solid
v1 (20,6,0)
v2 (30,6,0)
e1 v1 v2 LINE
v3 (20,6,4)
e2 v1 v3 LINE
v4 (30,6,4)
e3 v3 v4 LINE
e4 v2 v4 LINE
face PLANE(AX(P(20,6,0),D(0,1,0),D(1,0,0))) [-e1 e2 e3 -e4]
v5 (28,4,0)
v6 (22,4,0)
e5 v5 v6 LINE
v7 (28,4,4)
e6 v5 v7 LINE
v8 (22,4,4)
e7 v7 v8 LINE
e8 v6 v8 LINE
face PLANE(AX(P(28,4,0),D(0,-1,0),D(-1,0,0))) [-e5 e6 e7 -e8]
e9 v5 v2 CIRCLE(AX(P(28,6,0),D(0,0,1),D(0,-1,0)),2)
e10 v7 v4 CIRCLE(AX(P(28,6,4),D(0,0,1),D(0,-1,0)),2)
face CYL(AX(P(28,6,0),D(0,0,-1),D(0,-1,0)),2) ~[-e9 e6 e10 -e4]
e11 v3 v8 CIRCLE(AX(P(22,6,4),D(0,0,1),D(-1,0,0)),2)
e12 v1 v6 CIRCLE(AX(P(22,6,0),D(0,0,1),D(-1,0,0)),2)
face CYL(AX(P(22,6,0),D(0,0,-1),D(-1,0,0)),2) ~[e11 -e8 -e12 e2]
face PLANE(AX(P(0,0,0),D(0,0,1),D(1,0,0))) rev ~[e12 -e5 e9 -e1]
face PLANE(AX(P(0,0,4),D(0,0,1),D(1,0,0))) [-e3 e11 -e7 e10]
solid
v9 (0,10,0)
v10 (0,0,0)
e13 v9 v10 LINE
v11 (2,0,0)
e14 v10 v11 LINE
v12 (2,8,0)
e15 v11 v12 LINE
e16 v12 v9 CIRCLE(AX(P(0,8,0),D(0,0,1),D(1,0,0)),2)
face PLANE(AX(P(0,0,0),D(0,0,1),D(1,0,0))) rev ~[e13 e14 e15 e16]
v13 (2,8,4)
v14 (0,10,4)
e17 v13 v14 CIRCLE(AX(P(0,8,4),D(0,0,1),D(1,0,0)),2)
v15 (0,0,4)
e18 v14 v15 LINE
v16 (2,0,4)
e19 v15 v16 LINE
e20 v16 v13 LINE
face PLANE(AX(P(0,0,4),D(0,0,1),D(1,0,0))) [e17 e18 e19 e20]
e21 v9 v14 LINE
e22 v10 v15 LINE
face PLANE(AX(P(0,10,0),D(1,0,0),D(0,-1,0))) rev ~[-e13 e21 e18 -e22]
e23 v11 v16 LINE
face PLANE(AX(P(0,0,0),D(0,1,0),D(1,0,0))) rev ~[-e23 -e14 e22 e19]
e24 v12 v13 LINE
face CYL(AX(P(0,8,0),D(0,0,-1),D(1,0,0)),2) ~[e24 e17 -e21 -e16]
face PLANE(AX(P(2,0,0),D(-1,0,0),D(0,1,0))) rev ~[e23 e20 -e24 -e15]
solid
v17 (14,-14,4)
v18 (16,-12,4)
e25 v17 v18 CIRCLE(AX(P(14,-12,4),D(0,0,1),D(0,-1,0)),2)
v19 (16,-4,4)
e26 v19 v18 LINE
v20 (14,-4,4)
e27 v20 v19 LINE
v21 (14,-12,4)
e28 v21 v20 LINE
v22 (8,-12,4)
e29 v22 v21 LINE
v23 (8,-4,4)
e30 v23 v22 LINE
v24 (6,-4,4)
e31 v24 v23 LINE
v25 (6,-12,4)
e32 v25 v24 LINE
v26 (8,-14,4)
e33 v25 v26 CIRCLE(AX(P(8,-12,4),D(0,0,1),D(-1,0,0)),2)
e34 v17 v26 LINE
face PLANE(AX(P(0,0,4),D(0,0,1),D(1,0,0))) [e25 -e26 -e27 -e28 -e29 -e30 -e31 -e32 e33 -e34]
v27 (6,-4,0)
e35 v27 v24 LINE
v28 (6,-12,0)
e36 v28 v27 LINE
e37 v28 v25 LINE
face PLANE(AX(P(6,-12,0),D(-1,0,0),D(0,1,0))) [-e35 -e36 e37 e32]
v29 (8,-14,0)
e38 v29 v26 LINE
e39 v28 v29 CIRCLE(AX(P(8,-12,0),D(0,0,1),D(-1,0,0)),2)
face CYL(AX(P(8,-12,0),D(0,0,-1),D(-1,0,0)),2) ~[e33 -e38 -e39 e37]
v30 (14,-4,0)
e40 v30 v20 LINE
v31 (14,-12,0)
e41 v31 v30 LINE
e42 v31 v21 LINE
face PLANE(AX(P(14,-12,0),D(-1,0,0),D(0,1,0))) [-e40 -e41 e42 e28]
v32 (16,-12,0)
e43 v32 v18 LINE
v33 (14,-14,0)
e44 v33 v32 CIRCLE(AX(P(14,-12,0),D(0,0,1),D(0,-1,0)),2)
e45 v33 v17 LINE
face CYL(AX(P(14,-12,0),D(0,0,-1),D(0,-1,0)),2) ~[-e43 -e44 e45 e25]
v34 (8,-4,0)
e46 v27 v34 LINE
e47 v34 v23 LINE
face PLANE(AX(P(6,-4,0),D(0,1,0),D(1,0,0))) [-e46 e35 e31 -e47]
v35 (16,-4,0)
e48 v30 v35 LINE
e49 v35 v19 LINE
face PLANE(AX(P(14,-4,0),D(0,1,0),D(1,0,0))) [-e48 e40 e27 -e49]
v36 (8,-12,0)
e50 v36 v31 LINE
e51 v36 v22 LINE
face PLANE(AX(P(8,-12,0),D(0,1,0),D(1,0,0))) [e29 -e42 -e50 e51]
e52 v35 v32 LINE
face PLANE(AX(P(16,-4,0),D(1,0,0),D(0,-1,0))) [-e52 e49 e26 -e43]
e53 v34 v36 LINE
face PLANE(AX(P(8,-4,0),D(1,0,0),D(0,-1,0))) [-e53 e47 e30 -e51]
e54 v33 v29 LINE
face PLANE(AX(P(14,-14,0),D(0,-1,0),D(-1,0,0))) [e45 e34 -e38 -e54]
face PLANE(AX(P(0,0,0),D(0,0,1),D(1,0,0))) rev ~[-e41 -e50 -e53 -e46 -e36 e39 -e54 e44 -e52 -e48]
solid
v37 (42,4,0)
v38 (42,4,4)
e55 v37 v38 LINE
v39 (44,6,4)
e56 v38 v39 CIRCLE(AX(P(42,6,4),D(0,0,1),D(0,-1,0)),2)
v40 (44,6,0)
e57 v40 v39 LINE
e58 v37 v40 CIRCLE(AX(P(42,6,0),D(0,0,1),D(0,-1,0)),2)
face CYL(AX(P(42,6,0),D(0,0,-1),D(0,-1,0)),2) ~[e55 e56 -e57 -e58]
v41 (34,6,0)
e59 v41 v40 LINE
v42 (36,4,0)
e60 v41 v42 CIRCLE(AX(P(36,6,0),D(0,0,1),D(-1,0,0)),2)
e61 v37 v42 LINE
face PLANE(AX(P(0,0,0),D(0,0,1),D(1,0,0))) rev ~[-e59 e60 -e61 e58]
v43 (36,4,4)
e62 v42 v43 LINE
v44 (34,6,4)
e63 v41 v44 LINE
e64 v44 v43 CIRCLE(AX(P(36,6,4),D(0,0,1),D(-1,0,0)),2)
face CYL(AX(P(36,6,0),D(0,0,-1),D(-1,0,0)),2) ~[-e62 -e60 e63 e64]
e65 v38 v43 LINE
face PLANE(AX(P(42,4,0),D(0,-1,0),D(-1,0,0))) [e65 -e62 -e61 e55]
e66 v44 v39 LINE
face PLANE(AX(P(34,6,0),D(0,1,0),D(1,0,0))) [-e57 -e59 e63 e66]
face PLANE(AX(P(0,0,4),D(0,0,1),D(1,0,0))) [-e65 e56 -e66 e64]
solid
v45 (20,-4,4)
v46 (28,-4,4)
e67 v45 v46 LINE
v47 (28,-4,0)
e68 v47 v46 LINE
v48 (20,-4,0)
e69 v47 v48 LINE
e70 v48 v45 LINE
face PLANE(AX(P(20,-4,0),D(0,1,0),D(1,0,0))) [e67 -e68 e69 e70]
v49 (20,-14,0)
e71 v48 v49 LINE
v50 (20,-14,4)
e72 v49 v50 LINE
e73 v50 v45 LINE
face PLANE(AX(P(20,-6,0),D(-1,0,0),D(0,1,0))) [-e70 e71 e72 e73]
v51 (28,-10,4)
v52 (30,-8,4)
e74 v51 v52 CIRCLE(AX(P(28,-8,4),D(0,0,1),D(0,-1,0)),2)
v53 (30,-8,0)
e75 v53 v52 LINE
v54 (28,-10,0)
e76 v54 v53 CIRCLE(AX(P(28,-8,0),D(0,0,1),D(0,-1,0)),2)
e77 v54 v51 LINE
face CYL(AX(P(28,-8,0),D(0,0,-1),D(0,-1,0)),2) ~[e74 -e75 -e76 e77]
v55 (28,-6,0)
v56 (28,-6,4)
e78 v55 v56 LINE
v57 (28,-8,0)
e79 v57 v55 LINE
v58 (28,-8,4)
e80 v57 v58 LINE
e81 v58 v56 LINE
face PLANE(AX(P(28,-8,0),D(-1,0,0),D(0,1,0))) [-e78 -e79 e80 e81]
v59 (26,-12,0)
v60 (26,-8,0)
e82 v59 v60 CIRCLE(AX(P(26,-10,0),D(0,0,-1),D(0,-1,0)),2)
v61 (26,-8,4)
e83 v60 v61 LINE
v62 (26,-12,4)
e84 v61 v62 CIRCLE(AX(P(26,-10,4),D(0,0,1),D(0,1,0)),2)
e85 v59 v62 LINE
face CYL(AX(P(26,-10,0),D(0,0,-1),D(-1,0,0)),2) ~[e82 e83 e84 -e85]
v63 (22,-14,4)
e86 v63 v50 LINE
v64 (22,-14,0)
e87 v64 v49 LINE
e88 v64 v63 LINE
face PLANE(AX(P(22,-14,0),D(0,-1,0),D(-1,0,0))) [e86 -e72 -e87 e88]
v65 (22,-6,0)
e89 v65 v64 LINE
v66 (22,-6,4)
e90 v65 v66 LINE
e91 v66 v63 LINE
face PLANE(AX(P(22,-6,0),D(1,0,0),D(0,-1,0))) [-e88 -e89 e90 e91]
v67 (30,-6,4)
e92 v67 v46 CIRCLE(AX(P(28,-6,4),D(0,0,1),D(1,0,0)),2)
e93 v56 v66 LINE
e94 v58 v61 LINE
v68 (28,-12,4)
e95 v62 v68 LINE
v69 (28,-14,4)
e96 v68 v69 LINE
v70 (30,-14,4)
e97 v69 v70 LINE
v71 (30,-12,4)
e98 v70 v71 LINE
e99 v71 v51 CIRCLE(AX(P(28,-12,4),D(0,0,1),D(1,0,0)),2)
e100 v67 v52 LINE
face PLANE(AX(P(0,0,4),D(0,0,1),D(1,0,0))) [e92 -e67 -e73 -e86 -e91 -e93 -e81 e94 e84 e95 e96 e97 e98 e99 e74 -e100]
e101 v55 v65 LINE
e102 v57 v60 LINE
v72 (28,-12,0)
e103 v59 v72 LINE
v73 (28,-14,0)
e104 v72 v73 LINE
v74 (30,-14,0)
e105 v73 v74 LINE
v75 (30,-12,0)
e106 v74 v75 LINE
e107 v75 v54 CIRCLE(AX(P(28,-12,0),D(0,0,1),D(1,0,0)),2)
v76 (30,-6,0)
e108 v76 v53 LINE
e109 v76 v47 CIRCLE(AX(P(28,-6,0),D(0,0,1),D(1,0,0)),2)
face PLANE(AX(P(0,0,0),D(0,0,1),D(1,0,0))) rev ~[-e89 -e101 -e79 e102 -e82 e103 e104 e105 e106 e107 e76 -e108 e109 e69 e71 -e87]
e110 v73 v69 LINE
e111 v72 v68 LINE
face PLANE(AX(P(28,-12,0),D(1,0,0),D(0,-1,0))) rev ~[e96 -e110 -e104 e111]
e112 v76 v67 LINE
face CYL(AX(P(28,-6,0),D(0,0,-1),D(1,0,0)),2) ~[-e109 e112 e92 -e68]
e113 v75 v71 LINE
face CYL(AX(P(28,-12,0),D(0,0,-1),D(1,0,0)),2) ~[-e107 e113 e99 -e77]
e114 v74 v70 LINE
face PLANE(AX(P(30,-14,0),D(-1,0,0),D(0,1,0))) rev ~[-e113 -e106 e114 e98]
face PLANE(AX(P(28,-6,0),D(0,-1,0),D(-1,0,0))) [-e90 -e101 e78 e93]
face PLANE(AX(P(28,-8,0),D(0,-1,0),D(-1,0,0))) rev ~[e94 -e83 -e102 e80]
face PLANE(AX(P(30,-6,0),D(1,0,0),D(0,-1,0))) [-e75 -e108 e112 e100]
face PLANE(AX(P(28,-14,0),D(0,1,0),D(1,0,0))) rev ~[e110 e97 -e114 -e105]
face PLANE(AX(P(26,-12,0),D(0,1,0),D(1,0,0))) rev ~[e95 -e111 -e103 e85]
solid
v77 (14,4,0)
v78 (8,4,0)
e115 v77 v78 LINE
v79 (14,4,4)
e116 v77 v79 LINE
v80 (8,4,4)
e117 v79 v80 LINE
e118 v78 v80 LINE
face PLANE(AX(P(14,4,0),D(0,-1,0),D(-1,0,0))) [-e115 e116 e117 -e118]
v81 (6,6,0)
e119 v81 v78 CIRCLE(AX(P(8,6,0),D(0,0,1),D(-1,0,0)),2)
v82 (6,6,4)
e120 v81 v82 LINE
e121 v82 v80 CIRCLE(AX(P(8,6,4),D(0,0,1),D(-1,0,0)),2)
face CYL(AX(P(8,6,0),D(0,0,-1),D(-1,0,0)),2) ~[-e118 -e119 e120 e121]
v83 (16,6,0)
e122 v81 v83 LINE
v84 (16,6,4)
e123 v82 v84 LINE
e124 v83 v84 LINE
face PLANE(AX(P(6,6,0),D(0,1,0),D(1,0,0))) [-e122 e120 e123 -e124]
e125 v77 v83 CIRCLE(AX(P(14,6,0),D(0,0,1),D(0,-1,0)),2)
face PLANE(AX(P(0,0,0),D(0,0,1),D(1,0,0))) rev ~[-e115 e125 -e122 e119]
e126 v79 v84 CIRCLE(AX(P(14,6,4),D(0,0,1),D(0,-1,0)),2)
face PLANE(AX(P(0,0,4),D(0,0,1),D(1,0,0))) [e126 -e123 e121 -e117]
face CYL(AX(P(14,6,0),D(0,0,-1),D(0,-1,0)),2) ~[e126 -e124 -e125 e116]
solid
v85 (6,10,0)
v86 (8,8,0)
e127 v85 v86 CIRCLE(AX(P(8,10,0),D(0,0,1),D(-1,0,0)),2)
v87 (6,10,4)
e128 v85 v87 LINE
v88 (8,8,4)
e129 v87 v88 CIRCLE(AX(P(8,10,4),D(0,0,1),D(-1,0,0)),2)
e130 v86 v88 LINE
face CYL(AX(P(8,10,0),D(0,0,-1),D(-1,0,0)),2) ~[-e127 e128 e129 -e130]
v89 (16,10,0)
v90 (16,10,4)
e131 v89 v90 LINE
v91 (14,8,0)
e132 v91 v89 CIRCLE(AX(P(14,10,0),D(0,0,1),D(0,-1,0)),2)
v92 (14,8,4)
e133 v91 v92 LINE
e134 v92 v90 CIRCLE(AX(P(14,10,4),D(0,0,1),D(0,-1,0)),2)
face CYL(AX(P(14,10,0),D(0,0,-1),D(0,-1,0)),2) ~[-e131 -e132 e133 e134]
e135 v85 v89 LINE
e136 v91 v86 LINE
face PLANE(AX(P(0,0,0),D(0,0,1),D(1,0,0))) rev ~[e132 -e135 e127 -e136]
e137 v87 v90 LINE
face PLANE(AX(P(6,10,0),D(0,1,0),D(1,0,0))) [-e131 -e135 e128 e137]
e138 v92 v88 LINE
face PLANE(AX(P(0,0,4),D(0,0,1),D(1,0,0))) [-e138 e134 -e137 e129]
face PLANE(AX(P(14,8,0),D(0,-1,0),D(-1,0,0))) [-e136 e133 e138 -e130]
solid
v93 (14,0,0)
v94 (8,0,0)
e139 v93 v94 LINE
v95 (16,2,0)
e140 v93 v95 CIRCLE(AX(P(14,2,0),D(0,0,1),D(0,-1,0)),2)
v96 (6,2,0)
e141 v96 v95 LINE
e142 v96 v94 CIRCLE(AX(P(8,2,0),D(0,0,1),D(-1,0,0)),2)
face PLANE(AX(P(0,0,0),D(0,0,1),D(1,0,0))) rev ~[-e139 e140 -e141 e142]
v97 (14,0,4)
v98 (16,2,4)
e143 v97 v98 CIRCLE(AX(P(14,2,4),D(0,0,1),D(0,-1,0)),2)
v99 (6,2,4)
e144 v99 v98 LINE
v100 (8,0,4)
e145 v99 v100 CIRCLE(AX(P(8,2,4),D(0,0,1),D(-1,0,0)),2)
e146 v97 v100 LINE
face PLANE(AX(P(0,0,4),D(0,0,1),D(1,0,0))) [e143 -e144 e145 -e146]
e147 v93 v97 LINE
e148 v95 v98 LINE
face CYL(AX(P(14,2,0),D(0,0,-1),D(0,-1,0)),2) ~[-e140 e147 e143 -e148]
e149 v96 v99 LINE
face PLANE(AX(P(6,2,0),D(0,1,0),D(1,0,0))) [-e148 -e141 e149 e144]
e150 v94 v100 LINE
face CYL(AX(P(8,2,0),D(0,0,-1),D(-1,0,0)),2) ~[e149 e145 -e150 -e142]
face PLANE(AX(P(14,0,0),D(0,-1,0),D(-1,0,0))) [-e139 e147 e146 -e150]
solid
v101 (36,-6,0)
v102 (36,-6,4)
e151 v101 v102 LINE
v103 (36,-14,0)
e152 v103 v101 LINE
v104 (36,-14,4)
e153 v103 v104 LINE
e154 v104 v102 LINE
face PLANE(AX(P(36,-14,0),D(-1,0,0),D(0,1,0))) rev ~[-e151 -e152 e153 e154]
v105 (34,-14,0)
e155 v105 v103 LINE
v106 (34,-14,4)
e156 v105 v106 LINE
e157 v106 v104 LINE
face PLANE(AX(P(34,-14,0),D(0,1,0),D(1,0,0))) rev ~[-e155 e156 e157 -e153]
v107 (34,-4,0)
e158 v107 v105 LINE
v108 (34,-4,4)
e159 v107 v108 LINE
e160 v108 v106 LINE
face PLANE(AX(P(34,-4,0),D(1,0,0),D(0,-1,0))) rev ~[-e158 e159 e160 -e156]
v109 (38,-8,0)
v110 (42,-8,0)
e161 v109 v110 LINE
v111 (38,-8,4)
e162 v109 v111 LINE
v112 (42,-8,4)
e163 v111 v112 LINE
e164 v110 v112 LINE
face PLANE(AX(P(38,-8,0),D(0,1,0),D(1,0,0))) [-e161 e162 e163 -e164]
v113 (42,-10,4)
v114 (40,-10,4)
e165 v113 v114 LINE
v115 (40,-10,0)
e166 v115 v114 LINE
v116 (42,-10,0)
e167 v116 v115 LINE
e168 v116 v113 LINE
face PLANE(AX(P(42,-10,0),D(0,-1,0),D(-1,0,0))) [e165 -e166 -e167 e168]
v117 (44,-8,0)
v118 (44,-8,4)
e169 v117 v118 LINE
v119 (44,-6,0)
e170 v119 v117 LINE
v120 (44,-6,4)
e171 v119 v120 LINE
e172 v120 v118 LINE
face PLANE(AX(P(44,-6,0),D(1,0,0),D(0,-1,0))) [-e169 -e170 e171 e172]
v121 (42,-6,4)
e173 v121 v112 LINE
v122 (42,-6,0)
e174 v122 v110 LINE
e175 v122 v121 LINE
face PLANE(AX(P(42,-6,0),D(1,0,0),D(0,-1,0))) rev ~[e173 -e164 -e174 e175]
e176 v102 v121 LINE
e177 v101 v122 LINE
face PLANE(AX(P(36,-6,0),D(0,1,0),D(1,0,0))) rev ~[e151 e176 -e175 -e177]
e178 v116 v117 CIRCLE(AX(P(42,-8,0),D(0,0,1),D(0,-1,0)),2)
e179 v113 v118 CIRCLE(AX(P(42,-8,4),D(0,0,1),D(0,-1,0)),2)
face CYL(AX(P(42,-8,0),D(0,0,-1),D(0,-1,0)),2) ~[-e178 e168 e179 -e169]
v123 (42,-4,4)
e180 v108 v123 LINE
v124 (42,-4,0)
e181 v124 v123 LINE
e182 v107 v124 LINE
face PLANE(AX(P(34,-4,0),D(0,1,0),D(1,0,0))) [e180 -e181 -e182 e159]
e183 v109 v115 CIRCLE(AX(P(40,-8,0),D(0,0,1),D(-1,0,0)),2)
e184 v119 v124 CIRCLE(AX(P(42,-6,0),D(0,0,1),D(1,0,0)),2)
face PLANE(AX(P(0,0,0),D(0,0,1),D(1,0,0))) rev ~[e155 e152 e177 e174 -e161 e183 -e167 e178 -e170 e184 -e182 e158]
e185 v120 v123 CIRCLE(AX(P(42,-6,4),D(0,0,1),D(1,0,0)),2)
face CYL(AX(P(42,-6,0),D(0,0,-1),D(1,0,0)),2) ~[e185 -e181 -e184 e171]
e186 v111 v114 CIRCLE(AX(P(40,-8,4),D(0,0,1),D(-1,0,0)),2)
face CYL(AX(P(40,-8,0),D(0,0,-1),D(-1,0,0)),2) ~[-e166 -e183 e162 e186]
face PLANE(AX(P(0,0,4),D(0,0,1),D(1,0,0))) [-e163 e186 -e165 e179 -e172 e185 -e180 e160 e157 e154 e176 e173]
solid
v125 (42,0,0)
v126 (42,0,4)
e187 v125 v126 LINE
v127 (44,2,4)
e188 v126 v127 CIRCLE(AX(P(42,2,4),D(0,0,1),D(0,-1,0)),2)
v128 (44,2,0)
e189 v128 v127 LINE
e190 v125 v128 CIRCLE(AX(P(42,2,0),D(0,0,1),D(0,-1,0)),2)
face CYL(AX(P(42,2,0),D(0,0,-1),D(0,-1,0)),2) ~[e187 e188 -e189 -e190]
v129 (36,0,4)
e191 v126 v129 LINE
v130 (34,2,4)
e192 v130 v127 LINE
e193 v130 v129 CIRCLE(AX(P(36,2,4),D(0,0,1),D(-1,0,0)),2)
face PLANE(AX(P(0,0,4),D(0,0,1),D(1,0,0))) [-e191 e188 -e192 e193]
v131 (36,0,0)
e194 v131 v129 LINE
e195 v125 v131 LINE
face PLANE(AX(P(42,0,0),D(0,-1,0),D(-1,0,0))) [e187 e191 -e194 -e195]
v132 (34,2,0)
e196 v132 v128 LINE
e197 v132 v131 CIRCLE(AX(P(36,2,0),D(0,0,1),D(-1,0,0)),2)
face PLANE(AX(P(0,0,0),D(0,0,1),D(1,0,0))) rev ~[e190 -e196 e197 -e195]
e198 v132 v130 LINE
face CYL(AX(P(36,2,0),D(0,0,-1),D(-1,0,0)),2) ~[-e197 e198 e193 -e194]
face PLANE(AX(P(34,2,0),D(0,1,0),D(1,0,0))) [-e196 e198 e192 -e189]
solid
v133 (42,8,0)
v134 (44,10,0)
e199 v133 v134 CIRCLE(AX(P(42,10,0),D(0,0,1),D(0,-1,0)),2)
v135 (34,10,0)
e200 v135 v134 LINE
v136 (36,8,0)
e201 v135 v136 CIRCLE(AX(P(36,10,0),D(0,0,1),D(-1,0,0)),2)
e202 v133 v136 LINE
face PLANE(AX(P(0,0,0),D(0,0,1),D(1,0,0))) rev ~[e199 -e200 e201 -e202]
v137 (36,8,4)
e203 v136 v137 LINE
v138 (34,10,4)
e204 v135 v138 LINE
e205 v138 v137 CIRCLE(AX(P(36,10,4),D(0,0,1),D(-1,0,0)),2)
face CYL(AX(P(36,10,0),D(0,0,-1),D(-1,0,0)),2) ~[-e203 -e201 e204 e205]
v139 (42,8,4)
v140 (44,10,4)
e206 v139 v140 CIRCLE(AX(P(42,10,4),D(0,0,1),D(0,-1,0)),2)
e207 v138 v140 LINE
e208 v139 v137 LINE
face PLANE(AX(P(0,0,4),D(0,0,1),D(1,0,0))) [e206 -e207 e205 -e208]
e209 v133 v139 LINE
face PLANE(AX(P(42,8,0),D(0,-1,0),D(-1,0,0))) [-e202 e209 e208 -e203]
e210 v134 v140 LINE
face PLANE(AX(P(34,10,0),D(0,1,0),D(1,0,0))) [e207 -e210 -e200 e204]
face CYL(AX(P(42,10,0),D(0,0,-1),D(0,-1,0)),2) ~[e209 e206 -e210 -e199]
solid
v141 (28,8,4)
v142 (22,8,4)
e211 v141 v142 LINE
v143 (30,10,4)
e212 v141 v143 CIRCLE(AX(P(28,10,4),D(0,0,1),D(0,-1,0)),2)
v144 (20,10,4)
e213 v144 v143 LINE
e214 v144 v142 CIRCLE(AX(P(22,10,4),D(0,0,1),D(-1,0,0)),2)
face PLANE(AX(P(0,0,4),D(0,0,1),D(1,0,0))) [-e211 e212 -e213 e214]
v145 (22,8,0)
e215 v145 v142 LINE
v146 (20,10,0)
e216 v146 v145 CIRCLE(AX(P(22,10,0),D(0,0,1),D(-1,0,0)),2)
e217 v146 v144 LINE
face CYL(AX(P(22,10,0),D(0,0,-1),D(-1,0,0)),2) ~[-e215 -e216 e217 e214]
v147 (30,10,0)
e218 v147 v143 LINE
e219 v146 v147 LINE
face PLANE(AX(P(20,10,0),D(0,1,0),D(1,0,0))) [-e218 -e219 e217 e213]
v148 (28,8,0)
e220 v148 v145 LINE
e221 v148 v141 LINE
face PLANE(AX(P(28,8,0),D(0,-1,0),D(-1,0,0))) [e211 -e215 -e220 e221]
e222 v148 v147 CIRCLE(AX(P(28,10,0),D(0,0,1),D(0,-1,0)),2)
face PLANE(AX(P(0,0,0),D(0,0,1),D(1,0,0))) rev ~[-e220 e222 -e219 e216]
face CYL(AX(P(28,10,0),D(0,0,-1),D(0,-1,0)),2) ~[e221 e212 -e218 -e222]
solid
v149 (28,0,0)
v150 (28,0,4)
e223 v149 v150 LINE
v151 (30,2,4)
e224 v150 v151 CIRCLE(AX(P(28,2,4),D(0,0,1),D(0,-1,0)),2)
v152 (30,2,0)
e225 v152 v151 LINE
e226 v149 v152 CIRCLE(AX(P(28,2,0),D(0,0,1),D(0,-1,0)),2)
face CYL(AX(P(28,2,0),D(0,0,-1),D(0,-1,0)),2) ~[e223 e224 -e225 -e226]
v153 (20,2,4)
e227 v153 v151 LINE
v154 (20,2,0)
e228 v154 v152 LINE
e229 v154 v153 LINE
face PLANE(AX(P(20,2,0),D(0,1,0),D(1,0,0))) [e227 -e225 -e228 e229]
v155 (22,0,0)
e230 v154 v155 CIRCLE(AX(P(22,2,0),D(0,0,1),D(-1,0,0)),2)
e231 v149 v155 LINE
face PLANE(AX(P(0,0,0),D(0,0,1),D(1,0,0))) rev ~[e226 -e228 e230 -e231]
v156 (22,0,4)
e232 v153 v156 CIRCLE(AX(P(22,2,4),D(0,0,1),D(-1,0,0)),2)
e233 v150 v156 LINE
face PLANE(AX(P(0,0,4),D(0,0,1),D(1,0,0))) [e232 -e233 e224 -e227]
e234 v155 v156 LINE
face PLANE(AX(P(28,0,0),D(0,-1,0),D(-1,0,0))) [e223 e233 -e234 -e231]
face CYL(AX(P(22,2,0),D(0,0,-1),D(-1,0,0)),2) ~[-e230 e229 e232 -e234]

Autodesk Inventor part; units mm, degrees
ref_plane "YZ Plane" through (0, 0, 0) normal (1, 0, 0) x (0, 1, 0)
ref_plane "XZ Plane" through (0, 0, 0) normal (0, 1, 0) x (-1, 0, 0)
ref_plane "XY Plane" through (0, 0, 0) normal (0, 0, 1) x (1, 0, 0)
sketch "Sketch5" plane through (0, 0, 0) normal (0, 0, 1) x (1, 0, 0)
  line L0 (0, 0) -> (2, 0)
  line L1 (2, 0) -> (2, 8)
  line L2 (0, 10) -> (0, 10)
  line L3 (0, 10) -> (0, 0)
  line L4 (6, 10) -> (16, 10)
  line L5 (16, 10) -> (16, 10)
  line L6 (14, 8) -> (8, 8)
  line L7 (6, 10) -> (6, 10)
  line L8 (6, 6) -> (16, 6)
  line L9 (16, 6) -> (16, 6)
  line L10 (14, 4) -> (8, 4)
  line L11 (6, 6) -> (6, 6)
  line L12 (6, 2) -> (16, 2)
  line L13 (16, 2) -> (16, 2)
  line L14 (14, 0) -> (8, 0)
  line L15 (6, 2) -> (6, 2)
  line L16 (20, 10) -> (30, 10)
  line L17 (30, 10) -> (30, 10)
  line L18 (28, 8) -> (22, 8)
  line L19 (20, 10) -> (20, 10)
  line L20 (20, 6) -> (30, 6)
  line L21 (30, 6) -> (30, 6)
  line L22 (28, 4) -> (22, 4)
  line L23 (20, 6) -> (20, 6)
  line L24 (20, 2) -> (30, 2)
  line L25 (30, 2) -> (30, 2)
  line L26 (28, 0) -> (22, 0)
  line L27 (20, 2) -> (20, 2)
  line L28 (34, 10) -> (44, 10)
  line L29 (44, 10) -> (44, 10)
  line L30 (42, 8) -> (36, 8)
  line L31 (34, 10) -> (34, 10)
  line L32 (34, 6) -> (44, 6)
  line L33 (44, 6) -> (44, 6)
  line L34 (42, 4) -> (36, 4)
  line L35 (34, 6) -> (34, 6)
  line L36 (34, 2) -> (44, 2)
  line L37 (44, 2) -> (44, 2)
  line L38 (42, 0) -> (36, 0)
  line L39 (34, 2) -> (34, 2)
  arc A0 (2, 8) -> (0, 10) centre (0, 8) ccw
  arc A1 (6, 10) -> (8, 8) centre (8, 10) ccw
  arc A2 (6, 6) -> (8, 4) centre (8, 6) ccw
  arc A3 (6, 2) -> (8, 0) centre (8, 2) ccw
  arc A4 (14, 0) -> (16, 2) centre (14, 2) ccw
  arc A5 (14, 4) -> (16, 6) centre (14, 6) ccw
  arc A6 (14, 8) -> (16, 10) centre (14, 10) ccw
  arc A7 (20, 10) -> (22, 8) centre (22, 10) ccw
  arc A8 (20, 6) -> (22, 4) centre (22, 6) ccw
  arc A9 (20, 2) -> (22, 0) centre (22, 2) ccw
  arc A10 (28, 0) -> (30, 2) centre (28, 2) ccw
  arc A11 (28, 4) -> (30, 6) centre (28, 6) ccw
  arc A12 (28, 8) -> (30, 10) centre (28, 10) ccw
  arc A13 (34, 10) -> (36, 8) centre (36, 10) ccw
  arc A14 (34, 6) -> (36, 4) centre (36, 6) ccw
  arc A15 (34, 2) -> (36, 0) centre (36, 2) ccw
  arc A16 (42, 0) -> (44, 2) centre (42, 2) ccw
  arc A17 (42, 4) -> (44, 6) centre (42, 6) ccw
  arc A18 (42, 8) -> (44, 10) centre (42, 10) ccw
  line L40 (6, -4) -> (8, -4)
  line L41 (8, -4) -> (8, -12)
  line L42 (8, -12) -> (14, -12)
  line L43 (14, -12) -> (14, -4)
  line L44 (14, -4) -> (16, -4)
  line L45 (16, -4) -> (16, -12)
  line L46 (14, -14) -> (8, -14)
  line L47 (6, -12) -> (6, -4)
  arc A19 (6, -12) -> (8, -14) centre (8, -12) ccw
  arc A20 (14, -14) -> (16, -12) centre (14, -12) ccw
  line L48 (6, 0) -> (6, 10) construction
  line L49 (20, 10) -> (20, 0) construction
  line L50 (34, -4) -> (34, -14)
  line L51 (34, -4) -> (42, -4)
  line L52 (34, -14) -> (36, -14)
  line L53 (36, -14) -> (36, -6)
  line L54 (36, -6) -> (42, -6)
  line L55 (42, -6) -> (42, -8)
  line L56 (38, -8) -> (42, -8)
  line L57 (38, -8) -> (38, -8)
  line L58 (44, -6) -> (44, -8)
  line L59 (42, -10) -> (40, -10)
  line L60 (34, 10) -> (34, 0) construction
  arc A21 (38, -8) -> (40, -10) centre (40, -8) ccw
  arc A22 (42, -10) -> (44, -8) centre (42, -8) ccw
  arc A23 (44, -6) -> (42, -4) centre (42, -6) ccw
  line L61 (20, -4) -> (22, -4)
  line L62 (22, -6) -> (22, -14)
  line L63 (22, -14) -> (20, -14)
  line L64 (20, -14) -> (20, -4)
  line L65 (20, -4) -> (28, -4)
  line L66 (30, -6) -> (30, -6)
  line L67 (30, -6) -> (22, -6)
  line L68 (20, -6) -> (20, -4)
  arc A24 (30, -6) -> (28, -4) centre (28, -6) ccw
  line L69 (28, -6) -> (30, -6)
  line L70 (30, -6) -> (30, -8)
  line L71 (28, -10) -> (28, -10)
  line L72 (28, -10) -> (28, -6)
  arc A25 (28, -10) -> (30, -8) centre (28, -8) ccw
  line L73 (28, -8) -> (26, -8)
  line L74 (24, -10) -> (24, -10)
  line L75 (26, -12) -> (28, -12)
  line L76 (28, -12) -> (28, -8)
  arc A26 (26, -8) -> (24, -10) centre (26, -10) ccw
  arc A27 (24, -10) -> (26, -12) centre (26, -10) ccw
  line L77 (28, -14) -> (30, -14)
  line L78 (30, -14) -> (30, -12)
  line L79 (28, -10) -> (28, -10)
  line L80 (28, -10) -> (28, -14)
  arc A28 (30, -12) -> (28, -10) centre (28, -12) ccw
  point P0 (2, 10)
  point P1 (16, 8)
  point P2 (6, 8)
  point P3 (16, 4)
  point P4 (6, 4)
  point P5 (16, 0)
  point P6 (30, 8)
  point P7 (20, 8)
  point P8 (30, 4)
  point P9 (20, 4)
  point P10 (30, 0)
  point P11 (44, 8)
  point P12 (34, 8)
  point P13 (44, 4)
  point P14 (34, 4)
  point P15 (44, 0)
  point P16 (44, -4)
  point P17 (38, -10)
  point P18 (30, -4)
  dimension "d59" = 2
  dimension "d60" = 10
  dimension "d61" = 10
  dimension "d62" = 2
  dimension "d63" = 10
  dimension "d64" = 2
  dimension "d65" = 10
  dimension "d66" = 2
  dimension "d67" = 4
  dimension "d68" = 2
  dimension "d69" = 10
  dimension "d70" = 2
  dimension "d71" = 4
  dimension "d72" = 10
  dimension "d73" = 2
  dimension "d74" = 10
  dimension "d75" = 2
  dimension "d76" = 10
  dimension "d77" = 2
  dimension "d78" = 4
  dimension "d79" = 10
  dimension "d80" = 2
  dimension "d81" = 10
  dimension "d82" = 2
  dimension "d83" = 2
  dimension "d84" = 4
  dimension "d85" = 2
  dimension "d86" = 2
  dimension "d87" = 2
  dimension "d88" = 2
  dimension "d89" = 10
  dimension "d90" = 10
  dimension "d101" = 2
  dimension "d102" = 2
  dimension "d103" = 2
  dimension "d104" = 2
  dimension "d105" = 2
  dimension "d106" = 10
  dimension "d107" = 6
  dimension "d120" = 2
  dimension "d121" = 4
  dimension "d122" = 2
  dimension "d123" = 10
  dimension "d124" = 2
  dimension "d125" = 2
  dimension "d126" = 2
  dimension "d127" = 4
  dimension "d128" = 4
  dimension "d129" = 2
  dimension "d130" = 2
extrude "Extrusion3" add sketch "Sketch5" along normal blind 4
equation "\"d67\" = 2 * d59"
equation "\"d68\" = d59"
equation "\"d71\" = d67"
equation "\"d78\" = d67"
equation "\"d84\" = d67"
equation "\"d85\" = d59"
equation "\"d86\" = d59"
equation "\"d87\" = d59"
equation "\"d89\" = d60"
equation "\"d90\" = d89"
properties part number "ieee"
